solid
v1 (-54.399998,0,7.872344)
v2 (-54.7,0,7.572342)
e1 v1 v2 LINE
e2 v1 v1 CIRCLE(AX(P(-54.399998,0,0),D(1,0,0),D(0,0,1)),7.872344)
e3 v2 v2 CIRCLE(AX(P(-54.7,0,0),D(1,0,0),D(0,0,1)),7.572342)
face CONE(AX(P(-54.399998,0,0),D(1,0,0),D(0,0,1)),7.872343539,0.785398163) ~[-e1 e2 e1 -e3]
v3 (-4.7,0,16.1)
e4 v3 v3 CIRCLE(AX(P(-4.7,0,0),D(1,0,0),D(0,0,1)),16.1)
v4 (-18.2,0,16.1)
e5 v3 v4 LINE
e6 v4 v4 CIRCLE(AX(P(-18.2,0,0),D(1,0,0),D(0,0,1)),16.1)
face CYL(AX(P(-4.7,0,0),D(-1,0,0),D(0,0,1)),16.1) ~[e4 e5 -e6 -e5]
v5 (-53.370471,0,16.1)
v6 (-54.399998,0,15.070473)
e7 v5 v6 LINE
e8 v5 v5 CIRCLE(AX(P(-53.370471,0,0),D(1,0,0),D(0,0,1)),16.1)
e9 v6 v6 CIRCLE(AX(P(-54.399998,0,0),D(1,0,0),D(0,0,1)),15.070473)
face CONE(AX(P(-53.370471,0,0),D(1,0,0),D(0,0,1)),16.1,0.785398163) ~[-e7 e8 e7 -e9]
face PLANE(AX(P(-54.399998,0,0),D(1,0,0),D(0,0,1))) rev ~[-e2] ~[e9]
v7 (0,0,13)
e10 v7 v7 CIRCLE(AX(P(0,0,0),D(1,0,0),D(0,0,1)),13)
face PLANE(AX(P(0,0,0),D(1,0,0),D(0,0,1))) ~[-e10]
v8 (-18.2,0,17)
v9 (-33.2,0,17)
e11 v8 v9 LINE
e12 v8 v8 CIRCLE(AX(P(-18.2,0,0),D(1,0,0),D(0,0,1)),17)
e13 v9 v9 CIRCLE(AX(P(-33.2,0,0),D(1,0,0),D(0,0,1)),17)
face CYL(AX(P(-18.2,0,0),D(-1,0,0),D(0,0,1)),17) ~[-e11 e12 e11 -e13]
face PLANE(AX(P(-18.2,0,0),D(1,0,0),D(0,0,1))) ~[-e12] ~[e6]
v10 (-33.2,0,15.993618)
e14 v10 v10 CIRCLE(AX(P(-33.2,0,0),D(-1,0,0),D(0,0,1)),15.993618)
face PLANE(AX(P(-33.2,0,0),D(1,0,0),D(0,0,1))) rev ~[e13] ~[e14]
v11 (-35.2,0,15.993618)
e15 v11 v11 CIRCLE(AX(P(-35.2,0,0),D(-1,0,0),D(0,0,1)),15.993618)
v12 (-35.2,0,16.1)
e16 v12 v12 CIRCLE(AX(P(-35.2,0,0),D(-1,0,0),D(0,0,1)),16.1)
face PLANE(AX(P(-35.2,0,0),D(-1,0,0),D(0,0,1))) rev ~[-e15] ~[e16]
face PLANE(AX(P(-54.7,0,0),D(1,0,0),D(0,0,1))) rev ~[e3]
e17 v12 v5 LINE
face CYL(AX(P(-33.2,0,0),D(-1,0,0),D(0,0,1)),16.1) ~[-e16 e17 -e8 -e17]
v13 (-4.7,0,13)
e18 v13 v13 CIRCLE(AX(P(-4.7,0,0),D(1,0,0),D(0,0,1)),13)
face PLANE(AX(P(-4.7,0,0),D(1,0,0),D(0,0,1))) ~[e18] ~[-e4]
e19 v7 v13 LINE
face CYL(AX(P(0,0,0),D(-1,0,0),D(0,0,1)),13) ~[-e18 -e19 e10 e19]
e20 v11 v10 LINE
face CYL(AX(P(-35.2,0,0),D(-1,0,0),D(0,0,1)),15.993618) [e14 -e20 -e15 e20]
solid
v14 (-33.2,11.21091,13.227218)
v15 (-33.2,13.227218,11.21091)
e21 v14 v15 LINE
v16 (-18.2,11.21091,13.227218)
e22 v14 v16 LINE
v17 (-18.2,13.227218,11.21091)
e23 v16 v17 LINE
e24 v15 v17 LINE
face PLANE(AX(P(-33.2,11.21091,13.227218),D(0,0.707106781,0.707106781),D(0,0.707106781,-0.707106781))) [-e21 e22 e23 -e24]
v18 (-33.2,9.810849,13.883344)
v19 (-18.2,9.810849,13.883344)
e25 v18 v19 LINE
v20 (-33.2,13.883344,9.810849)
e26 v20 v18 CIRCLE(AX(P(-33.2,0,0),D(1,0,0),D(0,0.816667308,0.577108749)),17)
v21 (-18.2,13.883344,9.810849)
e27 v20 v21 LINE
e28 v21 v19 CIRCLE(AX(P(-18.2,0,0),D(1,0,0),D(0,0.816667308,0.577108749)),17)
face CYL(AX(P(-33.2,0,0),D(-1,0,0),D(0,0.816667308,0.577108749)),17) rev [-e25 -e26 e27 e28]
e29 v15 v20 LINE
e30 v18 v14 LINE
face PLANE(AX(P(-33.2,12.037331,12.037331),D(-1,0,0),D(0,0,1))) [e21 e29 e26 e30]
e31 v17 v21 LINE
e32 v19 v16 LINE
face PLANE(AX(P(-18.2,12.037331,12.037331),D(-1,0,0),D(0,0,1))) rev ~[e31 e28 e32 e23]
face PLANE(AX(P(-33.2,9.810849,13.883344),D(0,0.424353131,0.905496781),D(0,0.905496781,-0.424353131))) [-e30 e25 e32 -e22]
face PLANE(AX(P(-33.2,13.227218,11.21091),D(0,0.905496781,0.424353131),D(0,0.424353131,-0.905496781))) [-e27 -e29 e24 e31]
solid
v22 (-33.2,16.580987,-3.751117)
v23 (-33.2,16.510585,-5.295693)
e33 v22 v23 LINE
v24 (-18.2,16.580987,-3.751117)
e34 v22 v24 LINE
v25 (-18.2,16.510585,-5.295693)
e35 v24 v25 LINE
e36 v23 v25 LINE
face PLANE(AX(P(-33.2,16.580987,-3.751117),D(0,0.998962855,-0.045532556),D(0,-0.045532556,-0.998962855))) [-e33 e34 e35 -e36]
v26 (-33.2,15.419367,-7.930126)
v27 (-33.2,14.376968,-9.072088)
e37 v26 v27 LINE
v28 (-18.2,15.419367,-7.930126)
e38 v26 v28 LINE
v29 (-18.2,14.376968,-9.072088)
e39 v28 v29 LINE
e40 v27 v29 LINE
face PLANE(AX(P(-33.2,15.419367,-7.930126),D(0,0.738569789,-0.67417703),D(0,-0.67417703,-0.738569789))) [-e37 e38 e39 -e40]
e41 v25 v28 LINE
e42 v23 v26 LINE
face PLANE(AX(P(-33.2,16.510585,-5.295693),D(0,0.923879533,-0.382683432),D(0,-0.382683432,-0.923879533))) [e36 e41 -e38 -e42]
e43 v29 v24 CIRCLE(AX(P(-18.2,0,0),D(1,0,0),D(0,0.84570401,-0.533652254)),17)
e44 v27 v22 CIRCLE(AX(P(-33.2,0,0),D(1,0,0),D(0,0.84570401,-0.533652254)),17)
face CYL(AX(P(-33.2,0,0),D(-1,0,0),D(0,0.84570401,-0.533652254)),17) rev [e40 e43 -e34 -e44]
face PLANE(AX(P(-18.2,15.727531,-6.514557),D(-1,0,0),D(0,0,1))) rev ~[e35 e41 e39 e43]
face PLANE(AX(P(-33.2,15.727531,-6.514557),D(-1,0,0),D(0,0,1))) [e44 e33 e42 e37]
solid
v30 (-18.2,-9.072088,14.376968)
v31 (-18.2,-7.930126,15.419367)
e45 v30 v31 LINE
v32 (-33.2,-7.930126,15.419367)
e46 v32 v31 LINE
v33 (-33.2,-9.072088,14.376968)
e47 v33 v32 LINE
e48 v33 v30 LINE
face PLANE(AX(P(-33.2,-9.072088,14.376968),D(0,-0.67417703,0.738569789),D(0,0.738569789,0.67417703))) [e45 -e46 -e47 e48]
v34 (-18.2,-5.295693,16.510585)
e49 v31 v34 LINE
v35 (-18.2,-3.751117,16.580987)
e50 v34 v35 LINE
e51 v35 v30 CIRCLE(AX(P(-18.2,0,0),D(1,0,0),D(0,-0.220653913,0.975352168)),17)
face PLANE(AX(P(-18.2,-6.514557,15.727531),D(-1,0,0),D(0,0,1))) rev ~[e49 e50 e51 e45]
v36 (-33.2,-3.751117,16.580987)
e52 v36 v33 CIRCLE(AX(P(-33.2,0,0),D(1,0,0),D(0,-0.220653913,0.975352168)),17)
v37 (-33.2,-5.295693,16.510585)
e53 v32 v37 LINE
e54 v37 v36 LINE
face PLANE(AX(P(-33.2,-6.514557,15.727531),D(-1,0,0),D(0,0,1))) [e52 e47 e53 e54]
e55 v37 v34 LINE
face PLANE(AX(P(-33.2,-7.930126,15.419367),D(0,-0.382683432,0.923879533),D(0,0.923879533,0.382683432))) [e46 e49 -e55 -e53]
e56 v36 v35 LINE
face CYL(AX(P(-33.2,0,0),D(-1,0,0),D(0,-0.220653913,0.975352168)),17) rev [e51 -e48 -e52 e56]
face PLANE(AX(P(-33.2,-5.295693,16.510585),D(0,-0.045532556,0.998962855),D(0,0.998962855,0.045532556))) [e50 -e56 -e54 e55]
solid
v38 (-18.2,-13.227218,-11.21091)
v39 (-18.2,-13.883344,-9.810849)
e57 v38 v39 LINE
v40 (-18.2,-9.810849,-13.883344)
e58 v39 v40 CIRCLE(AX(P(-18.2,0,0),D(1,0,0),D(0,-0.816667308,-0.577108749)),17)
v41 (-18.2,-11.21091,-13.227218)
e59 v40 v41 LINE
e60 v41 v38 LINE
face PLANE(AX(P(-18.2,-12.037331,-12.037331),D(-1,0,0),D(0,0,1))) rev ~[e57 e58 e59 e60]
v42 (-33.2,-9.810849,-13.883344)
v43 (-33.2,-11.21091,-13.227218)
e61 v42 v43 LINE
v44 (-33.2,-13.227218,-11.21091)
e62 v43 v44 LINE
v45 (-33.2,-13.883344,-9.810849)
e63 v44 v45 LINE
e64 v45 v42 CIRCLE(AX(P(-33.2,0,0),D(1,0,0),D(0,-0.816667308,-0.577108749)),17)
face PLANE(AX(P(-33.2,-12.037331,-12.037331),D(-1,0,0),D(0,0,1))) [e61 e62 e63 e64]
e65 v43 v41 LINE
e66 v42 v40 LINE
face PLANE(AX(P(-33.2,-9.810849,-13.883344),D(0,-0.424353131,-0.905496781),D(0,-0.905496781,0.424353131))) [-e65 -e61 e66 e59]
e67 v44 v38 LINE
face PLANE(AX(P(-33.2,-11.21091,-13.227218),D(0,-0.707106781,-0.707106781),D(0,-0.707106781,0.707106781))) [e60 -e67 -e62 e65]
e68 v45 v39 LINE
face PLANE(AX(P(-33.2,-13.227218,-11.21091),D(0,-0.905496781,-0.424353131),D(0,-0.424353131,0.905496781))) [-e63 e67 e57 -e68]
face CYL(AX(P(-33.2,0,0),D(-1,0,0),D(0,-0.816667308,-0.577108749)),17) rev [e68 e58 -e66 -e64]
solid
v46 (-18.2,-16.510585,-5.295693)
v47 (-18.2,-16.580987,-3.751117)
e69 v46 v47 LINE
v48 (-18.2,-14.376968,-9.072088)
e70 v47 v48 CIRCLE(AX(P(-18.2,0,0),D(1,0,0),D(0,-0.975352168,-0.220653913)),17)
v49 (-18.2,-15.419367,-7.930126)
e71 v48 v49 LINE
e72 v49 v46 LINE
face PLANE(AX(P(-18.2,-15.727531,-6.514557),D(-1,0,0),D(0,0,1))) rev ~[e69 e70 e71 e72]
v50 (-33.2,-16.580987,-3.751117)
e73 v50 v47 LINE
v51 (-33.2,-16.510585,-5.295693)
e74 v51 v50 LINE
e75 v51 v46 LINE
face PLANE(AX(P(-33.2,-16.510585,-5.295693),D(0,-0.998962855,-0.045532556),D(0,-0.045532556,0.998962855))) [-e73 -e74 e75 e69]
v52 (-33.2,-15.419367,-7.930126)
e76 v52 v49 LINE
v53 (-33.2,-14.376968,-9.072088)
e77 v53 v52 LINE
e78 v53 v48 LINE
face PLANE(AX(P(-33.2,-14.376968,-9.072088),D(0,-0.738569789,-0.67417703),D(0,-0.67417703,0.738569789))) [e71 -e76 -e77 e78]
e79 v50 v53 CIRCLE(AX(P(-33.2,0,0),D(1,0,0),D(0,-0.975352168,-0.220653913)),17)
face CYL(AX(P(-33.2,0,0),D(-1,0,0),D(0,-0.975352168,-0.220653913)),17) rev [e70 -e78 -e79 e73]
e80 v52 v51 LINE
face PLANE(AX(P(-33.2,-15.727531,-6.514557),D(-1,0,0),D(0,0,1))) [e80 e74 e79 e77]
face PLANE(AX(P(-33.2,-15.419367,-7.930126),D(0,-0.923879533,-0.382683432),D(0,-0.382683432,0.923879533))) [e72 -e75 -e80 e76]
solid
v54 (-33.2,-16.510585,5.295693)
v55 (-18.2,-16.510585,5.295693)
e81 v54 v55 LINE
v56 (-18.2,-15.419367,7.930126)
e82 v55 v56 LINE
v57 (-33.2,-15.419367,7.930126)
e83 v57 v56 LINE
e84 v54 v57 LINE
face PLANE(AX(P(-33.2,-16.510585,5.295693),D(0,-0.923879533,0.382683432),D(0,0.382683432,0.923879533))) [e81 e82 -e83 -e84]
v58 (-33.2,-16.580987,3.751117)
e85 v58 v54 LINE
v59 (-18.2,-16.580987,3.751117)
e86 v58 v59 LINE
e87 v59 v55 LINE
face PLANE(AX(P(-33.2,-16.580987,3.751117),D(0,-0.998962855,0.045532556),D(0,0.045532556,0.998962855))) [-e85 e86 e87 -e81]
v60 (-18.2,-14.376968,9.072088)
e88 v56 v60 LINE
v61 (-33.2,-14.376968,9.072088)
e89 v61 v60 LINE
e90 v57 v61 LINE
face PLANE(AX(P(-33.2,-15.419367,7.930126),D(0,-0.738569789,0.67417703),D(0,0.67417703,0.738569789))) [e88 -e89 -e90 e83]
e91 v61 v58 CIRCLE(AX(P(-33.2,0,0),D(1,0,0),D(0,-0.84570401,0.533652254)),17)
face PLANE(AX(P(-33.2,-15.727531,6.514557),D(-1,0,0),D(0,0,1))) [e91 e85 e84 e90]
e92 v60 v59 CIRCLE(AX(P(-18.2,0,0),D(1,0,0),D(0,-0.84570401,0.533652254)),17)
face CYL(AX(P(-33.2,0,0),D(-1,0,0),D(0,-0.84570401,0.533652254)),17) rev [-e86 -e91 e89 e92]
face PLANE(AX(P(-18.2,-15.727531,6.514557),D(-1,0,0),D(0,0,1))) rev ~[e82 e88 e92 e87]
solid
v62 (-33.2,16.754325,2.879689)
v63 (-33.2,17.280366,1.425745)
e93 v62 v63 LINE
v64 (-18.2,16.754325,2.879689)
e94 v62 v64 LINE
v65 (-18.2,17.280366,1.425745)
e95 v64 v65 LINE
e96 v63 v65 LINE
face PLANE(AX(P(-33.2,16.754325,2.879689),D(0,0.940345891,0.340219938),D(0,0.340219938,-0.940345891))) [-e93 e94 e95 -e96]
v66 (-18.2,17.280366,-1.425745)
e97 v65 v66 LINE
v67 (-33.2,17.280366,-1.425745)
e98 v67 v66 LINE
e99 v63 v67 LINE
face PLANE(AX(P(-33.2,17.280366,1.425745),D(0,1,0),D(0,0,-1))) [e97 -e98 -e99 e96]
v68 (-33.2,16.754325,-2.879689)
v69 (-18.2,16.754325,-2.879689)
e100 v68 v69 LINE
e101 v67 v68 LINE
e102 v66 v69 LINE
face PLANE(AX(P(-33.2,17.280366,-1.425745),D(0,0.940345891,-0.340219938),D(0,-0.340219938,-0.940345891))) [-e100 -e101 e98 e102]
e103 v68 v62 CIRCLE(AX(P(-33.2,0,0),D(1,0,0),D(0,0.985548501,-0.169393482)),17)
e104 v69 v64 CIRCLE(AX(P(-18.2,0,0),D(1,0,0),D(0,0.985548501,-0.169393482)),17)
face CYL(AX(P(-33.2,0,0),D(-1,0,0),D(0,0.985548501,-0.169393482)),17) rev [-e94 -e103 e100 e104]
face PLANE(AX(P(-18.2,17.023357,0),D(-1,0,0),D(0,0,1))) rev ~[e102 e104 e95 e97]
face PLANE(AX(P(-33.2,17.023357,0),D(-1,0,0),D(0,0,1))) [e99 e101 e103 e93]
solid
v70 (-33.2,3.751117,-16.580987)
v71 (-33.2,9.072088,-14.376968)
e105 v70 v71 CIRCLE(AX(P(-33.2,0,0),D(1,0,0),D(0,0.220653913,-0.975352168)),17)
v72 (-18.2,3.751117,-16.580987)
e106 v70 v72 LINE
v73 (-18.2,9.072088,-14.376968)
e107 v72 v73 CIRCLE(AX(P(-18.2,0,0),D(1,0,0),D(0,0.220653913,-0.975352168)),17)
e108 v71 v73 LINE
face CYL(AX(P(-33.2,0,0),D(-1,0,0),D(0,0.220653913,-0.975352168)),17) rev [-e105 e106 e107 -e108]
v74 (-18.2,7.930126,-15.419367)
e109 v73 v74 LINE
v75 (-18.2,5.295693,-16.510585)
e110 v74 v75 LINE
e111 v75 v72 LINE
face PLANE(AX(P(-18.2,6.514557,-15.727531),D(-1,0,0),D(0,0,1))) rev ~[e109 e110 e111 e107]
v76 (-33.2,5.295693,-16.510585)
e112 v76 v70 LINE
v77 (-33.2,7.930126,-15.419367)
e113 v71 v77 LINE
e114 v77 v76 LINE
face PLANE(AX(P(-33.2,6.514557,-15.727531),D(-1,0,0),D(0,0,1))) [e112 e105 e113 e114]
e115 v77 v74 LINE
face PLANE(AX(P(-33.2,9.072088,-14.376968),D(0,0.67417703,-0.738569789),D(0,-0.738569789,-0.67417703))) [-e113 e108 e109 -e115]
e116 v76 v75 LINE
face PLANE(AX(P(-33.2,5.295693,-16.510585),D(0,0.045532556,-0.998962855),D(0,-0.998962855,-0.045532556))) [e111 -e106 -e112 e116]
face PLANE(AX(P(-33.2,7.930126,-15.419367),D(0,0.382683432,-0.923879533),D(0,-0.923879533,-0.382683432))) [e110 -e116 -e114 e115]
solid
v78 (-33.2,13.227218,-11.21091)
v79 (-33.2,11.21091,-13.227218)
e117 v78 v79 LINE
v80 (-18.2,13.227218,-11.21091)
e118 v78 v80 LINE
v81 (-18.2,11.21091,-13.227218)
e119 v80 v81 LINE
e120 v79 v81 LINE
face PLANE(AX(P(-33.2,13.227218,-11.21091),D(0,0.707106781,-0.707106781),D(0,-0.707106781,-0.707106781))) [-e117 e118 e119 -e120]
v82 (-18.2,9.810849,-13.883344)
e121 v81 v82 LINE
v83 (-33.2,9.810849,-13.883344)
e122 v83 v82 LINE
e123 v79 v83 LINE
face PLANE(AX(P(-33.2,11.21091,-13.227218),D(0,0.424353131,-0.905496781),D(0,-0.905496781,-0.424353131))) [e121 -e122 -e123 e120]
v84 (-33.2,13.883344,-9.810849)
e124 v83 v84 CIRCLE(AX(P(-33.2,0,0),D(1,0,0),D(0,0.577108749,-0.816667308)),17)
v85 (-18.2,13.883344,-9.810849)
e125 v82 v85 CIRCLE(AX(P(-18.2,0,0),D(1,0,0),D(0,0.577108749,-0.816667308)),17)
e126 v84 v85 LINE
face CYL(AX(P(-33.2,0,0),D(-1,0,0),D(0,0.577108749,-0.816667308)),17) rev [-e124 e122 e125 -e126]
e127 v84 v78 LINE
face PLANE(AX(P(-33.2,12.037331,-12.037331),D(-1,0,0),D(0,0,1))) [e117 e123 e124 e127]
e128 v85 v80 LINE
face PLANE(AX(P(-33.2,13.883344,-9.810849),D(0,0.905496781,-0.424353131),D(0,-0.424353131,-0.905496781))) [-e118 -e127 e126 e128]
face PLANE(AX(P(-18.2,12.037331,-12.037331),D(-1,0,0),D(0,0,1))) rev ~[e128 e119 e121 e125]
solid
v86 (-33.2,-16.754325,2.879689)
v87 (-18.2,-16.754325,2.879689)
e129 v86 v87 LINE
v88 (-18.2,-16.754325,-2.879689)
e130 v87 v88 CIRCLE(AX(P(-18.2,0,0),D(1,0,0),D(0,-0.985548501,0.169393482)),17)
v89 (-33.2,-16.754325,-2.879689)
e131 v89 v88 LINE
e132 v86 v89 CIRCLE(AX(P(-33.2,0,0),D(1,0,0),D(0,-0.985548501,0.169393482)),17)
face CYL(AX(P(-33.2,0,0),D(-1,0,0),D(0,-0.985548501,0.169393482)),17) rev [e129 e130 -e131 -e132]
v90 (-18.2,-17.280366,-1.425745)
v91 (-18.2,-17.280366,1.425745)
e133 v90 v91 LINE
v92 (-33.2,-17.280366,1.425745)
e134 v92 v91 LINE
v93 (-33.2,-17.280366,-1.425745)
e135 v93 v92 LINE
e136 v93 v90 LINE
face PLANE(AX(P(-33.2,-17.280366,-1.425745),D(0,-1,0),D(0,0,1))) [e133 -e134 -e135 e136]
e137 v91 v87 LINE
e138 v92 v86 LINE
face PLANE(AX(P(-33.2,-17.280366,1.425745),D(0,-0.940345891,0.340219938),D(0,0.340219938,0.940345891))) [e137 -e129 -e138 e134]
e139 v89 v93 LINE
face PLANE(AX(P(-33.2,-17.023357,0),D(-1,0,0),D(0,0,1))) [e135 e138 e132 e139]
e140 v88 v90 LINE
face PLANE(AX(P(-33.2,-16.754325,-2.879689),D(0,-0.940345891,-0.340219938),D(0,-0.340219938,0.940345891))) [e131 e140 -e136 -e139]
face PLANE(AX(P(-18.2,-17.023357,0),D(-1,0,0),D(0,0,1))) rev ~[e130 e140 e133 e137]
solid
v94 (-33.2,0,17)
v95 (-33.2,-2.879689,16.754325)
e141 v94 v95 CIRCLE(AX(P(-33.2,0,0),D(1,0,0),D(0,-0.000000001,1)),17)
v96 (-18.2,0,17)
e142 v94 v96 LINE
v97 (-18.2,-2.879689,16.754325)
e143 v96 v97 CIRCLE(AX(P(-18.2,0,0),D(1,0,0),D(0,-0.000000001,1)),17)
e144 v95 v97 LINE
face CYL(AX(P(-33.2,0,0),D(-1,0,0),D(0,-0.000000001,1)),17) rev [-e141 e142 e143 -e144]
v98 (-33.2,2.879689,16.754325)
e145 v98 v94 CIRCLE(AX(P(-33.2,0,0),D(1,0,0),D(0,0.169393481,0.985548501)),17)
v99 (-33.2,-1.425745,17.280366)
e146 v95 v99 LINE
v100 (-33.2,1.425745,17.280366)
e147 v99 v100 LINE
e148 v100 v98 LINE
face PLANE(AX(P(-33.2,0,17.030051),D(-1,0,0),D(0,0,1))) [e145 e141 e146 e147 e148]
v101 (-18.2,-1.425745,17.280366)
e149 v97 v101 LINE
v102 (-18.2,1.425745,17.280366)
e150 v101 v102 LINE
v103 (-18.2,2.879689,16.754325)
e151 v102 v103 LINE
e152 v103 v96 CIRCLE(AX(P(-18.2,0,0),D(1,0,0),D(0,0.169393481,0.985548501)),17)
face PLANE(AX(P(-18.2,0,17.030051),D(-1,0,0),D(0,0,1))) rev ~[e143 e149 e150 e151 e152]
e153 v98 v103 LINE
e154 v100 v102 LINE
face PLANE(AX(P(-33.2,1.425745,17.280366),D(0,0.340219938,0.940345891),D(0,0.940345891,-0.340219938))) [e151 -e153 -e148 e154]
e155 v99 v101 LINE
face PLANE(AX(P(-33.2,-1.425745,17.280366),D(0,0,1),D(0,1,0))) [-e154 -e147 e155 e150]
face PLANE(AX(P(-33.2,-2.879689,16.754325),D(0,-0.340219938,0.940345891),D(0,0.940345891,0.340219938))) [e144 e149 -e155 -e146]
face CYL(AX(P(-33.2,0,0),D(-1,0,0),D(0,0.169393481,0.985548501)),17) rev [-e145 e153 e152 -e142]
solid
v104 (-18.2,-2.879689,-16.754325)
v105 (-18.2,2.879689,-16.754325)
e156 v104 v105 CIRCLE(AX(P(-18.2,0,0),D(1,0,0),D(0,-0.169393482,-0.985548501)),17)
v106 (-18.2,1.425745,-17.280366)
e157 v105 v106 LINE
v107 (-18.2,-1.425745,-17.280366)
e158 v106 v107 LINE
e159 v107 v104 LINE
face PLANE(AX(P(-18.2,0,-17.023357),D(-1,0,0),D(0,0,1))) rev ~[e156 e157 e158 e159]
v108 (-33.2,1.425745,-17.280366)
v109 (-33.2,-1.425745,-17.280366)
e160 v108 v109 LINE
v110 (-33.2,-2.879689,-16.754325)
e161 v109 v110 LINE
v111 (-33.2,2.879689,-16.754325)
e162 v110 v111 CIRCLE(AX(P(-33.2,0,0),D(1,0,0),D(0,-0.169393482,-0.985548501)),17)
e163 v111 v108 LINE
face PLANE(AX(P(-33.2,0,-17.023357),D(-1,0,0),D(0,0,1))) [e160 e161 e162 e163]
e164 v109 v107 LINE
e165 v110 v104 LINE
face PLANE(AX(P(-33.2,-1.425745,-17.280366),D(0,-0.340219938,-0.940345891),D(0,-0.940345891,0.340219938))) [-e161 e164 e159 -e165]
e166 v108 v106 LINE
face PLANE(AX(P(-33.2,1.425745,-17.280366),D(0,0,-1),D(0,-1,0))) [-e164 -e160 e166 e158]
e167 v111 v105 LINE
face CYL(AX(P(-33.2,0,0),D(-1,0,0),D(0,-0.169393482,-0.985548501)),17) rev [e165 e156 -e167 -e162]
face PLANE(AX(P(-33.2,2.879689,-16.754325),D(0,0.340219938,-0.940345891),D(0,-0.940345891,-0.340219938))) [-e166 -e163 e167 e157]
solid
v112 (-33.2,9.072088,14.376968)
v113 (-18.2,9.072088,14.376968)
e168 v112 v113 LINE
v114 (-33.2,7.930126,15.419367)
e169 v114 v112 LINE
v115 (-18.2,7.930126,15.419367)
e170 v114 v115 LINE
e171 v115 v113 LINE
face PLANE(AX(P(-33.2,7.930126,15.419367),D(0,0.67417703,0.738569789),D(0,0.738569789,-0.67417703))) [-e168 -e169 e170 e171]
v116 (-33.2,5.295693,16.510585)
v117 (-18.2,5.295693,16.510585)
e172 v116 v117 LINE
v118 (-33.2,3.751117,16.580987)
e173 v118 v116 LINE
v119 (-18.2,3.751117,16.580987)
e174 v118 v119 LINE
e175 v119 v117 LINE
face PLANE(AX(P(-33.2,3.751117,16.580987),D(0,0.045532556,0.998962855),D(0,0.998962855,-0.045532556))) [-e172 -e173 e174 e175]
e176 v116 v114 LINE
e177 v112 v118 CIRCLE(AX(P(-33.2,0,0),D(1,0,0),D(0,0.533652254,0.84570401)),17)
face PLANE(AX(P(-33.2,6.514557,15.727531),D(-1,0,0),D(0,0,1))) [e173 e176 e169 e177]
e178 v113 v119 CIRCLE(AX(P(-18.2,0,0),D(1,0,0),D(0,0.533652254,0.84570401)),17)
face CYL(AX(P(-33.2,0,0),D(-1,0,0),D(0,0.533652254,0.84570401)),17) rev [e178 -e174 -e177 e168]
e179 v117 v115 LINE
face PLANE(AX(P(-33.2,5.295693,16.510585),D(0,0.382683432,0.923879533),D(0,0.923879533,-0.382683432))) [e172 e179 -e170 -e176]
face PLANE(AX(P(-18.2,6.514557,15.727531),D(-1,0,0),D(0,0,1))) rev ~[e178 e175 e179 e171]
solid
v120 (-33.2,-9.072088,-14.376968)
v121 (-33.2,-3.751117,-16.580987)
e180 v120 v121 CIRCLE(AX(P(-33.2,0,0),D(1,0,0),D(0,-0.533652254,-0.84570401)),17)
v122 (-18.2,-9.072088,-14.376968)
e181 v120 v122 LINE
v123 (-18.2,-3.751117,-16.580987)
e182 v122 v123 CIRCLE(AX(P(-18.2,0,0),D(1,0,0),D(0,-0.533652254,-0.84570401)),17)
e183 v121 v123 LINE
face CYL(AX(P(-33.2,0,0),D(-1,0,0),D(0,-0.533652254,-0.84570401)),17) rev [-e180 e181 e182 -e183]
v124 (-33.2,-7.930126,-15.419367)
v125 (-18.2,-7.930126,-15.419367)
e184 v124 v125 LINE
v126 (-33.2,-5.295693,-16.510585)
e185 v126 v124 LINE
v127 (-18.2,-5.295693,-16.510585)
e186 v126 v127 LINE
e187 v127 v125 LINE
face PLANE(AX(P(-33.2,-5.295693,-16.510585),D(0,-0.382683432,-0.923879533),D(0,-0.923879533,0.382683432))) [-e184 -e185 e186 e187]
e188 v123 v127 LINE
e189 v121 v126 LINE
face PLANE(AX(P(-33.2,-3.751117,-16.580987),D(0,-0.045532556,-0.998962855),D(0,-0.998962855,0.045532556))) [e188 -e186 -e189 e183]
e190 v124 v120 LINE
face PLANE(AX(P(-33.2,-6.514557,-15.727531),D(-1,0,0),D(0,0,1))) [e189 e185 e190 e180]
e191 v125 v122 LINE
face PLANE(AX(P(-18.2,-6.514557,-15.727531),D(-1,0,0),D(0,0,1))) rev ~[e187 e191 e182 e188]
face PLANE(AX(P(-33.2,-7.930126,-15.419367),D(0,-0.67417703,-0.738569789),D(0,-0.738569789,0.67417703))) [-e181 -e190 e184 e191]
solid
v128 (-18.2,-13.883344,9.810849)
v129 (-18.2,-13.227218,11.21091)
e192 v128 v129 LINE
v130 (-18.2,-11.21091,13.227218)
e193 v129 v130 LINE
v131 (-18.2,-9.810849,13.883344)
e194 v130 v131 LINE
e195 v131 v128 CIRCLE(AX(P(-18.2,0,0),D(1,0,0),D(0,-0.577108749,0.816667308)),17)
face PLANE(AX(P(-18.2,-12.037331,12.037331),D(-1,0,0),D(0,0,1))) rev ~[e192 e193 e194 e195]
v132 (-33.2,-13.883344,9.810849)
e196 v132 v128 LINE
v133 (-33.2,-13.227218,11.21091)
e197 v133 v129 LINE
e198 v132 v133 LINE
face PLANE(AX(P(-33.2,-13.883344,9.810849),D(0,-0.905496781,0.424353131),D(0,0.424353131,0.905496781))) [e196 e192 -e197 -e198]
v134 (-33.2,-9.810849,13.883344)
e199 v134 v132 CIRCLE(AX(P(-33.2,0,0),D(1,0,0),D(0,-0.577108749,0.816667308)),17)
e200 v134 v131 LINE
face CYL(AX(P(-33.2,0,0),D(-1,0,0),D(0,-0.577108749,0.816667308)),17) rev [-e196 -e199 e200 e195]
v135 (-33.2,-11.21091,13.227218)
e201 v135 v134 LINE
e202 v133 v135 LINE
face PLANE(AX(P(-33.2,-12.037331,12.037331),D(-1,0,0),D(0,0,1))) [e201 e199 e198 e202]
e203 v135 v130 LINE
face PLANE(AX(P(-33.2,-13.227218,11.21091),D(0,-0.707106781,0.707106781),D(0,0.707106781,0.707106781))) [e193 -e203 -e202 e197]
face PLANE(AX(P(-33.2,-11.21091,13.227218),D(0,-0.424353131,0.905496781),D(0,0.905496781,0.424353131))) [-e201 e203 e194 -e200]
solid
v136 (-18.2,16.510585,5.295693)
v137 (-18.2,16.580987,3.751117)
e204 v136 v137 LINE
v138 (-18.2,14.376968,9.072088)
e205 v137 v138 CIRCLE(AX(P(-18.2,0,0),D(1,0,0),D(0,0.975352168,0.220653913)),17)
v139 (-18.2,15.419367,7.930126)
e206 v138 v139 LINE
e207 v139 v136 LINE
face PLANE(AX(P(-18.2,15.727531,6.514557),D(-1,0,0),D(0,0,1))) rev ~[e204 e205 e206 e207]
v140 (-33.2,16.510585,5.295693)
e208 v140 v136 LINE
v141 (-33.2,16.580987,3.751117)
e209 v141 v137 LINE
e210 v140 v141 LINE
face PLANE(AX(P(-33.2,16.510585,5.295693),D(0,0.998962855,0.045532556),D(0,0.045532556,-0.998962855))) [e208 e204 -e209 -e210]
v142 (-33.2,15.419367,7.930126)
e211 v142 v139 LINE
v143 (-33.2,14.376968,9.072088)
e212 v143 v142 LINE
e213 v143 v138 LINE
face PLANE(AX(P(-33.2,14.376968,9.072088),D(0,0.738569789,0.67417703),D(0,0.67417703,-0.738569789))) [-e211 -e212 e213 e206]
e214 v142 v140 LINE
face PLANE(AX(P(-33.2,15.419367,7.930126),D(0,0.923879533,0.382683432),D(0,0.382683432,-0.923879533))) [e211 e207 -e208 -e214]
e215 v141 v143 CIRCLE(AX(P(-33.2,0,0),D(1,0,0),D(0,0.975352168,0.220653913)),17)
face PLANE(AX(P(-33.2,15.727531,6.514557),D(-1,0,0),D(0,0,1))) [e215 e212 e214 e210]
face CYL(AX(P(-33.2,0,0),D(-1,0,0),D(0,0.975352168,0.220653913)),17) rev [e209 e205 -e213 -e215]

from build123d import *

# Parameters (mm, degrees)
BOSS_EXTRUDE1_DEPTH    = 15
BOSS_EXTRUDE1_2_DEPTH  = 15
BOSS_EXTRUDE1_3_DEPTH  = 15
BOSS_EXTRUDE1_4_DEPTH  = 15
BOSS_EXTRUDE1_5_DEPTH  = 15
BOSS_EXTRUDE1_6_DEPTH  = 15
BOSS_EXTRUDE1_7_DEPTH  = 15
BOSS_EXTRUDE1_8_DEPTH  = 15
BOSS_EXTRUDE1_9_DEPTH  = 15
BOSS_EXTRUDE1_10_DEPTH = 15
BOSS_EXTRUDE1_11_DEPTH = 15
BOSS_EXTRUDE1_12_DEPTH = 15
BOSS_EXTRUDE1_13_DEPTH = 15
BOSS_EXTRUDE1_14_DEPTH = 15
BOSS_EXTRUDE1_15_DEPTH = 15
BOSS_EXTRUDE1_16_DEPTH = 15
CUT_EXTRUDE1_START     = 2
SKETCH3_R              = 16.1
SKETCH3_R_2            = 15.993618491
CUT_EXTRUDE1_DEPTH     = 2


with BuildPart() as part:
    # Sketch1 → Revolve1 (revolve)
    with BuildSketch(Plane.XY, mode=Mode.PRIVATE) as revolve1_sk:
        Polygon((0, 0), (0, 13), (-4.7, 13), (-4.7, 16.1), (-18.2, 16.1), (-18.2, 17), (-33.2, 17), (-33.2, 16.1), (-53.370470841, 16.1), (-54.399998096, 15.070472746), (-54.399998096, 7.872343539), (-54.7, 7.572341635), (-54.7, 0), align=None)
    revolve(revolve1_sk.sketch.rotate(Axis((-54.7, 0, 0), (1, 0, 0)), 90), axis=Axis((-54.7, 0, 0), (1, 0, 0)))

    # Sketch3 → Cut-Extrude1 (cut)
    with BuildSketch(Plane.ZY.offset(33.2).offset(CUT_EXTRUDE1_START)):
        Circle(SKETCH3_R)
        Circle(SKETCH3_R_2, mode=Mode.SUBTRACT)
    extrude(amount=-CUT_EXTRUDE1_DEPTH, mode=Mode.SUBTRACT)


with BuildPart() as body_2:
    # Sketch2 → Boss-Extrude1 (new body)
    with BuildSketch(Plane.ZY.offset(33.2)):
        with BuildLine():
            Line((17.280365855, 1.425744986), (16.754324522, 2.879689187))
            ThreePointArc((16.754324522, 2.879689187), (16.938469778, 1.445074933), (17, 0))
            ThreePointArc((17, 0), (16.938469778, -1.445074933), (16.754324522, -2.879689187))
            Line((16.754324522, -2.879689187), (17.280365855, -1.425744986))
            Line((17.280365855, -1.425744986), (17.280365855, 1.425744986))
        make_face()
    extrude(amount=-BOSS_EXTRUDE1_DEPTH)


with BuildPart() as body_3:
    # Sketch2 → Boss-Extrude1 2 (new body)
    with BuildSketch(Plane.ZY.offset(33.2)):
        with BuildLine():
            Line((16.510585312, -5.295693106), (16.580986849, -3.751116515))
            ThreePointArc((16.580986849, -3.751116515), (15.705952053, -6.50561835), (14.376968165, -9.072088315))
            Line((14.376968165, -9.072088315), (15.419367342, -7.930126329))
            Line((15.419367342, -7.930126329), (16.510585312, -5.295693106))
        make_face()
    extrude(amount=-BOSS_EXTRUDE1_2_DEPTH)


with BuildPart() as body_4:
    # Sketch2 → Boss-Extrude1 3 (new body)
    with BuildSketch(Plane.ZY.offset(33.2)):
        with BuildLine():
            Line((13.227217825, -11.210909929), (13.883344235, -9.810848732))
            ThreePointArc((13.883344235, -9.810848732), (12.02081528, -12.02081528), (9.810848732, -13.883344235))
            Line((9.810848732, -13.883344235), (11.210909929, -13.227217825))
            Line((11.210909929, -13.227217825), (13.227217825, -11.210909929))
        make_face()
    extrude(amount=-BOSS_EXTRUDE1_3_DEPTH)


with BuildPart() as body_5:
    # Sketch2 → Boss-Extrude1 4 (new body)
    with BuildSketch(Plane.ZY.offset(33.2)):
        with BuildLine():
            Line((7.930126329, -15.419367342), (9.072088315, -14.376968165))
            ThreePointArc((9.072088315, -14.376968165), (6.50561835, -15.705952053), (3.751116515, -16.580986849))
            Line((3.751116515, -16.580986849), (5.295693106, -16.510585312))
            Line((5.295693106, -16.510585312), (7.930126329, -15.419367342))
        make_face()
    extrude(amount=-BOSS_EXTRUDE1_4_DEPTH)


with BuildPart() as body_6:
    # Sketch2 → Boss-Extrude1 5 (new body)
    with BuildSketch(Plane.ZY.offset(33.2)):
        with BuildLine():
            Line((1.425744986, -17.280365855), (2.879689187, -16.754324522))
            ThreePointArc((2.879689187, -16.754324522), (0, -17), (-2.879689187, -16.754324522))
            Line((-2.879689187, -16.754324522), (-1.425744986, -17.280365855))
            Line((-1.425744986, -17.280365855), (1.425744986, -17.280365855))
        make_face()
    extrude(amount=-BOSS_EXTRUDE1_5_DEPTH)


with BuildPart() as body_7:
    # Sketch2 → Boss-Extrude1 6 (new body)
    with BuildSketch(Plane.ZY.offset(33.2)):
        with BuildLine():
            Line((-5.295693106, -16.510585312), (-3.751116515, -16.580986849))
            ThreePointArc((-3.751116515, -16.580986849), (-6.50561835, -15.705952053), (-9.072088315, -14.376968165))
            Line((-9.072088315, -14.376968165), (-7.930126329, -15.419367342))
            Line((-7.930126329, -15.419367342), (-5.295693106, -16.510585312))
        make_face()
    extrude(amount=-BOSS_EXTRUDE1_6_DEPTH)


with BuildPart() as body_8:
    # Sketch2 → Boss-Extrude1 7 (new body)
    with BuildSketch(Plane.ZY.offset(33.2)):
        with BuildLine():
            Line((-11.210909929, -13.227217825), (-9.810848732, -13.883344235))
            ThreePointArc((-9.810848732, -13.883344235), (-12.02081528, -12.02081528), (-13.883344235, -9.810848732))
            Line((-13.883344235, -9.810848732), (-13.227217825, -11.210909929))
            Line((-13.227217825, -11.210909929), (-11.210909929, -13.227217825))
        make_face()
    extrude(amount=-BOSS_EXTRUDE1_7_DEPTH)


with BuildPart() as body_9:
    # Sketch2 → Boss-Extrude1 8 (new body)
    with BuildSketch(Plane.ZY.offset(33.2)):
        with BuildLine():
            Line((-15.419367342, -7.930126329), (-14.376968165, -9.072088315))
            ThreePointArc((-14.376968165, -9.072088315), (-15.705952053, -6.50561835), (-16.580986849, -3.751116515))
            Line((-16.580986849, -3.751116515), (-16.510585312, -5.295693106))
            Line((-16.510585312, -5.295693106), (-15.419367342, -7.930126329))
        make_face()
    extrude(amount=-BOSS_EXTRUDE1_8_DEPTH)


with BuildPart() as body_10:
    # Sketch2 → Boss-Extrude1 9 (new body)
    with BuildSketch(Plane.ZY.offset(33.2)):
        with BuildLine():
            ThreePointArc((-16.754324522, -2.879689187), (-17, 0), (-16.754324522, 2.879689187))
            Line((-16.754324522, 2.879689187), (-17.280365855, 1.425744986))
            Line((-17.280365855, 1.425744986), (-17.280365855, -1.425744986))
            Line((-17.280365855, -1.425744986), (-16.754324522, -2.879689187))
        make_face()
    extrude(amount=-BOSS_EXTRUDE1_9_DEPTH)


with BuildPart() as body_11:
    # Sketch2 → Boss-Extrude1 10 (new body)
    with BuildSketch(Plane.ZY.offset(33.2)):
        with BuildLine():
            ThreePointArc((-16.580986849, 3.751116515), (-15.705952053, 6.50561835), (-14.376968165, 9.072088315))
            Line((-14.376968165, 9.072088315), (-15.419367342, 7.930126329))
            Line((-15.419367342, 7.930126329), (-16.510585312, 5.295693106))
            Line((-16.510585312, 5.295693106), (-16.580986849, 3.751116515))
        make_face()
    extrude(amount=-BOSS_EXTRUDE1_10_DEPTH)


with BuildPart() as body_12:
    # Sketch2 → Boss-Extrude1 11 (new body)
    with BuildSketch(Plane.ZY.offset(33.2)):
        with BuildLine():
            ThreePointArc((-13.883344235, 9.810848732), (-12.02081528, 12.02081528), (-9.810848732, 13.883344235))
            Line((-9.810848732, 13.883344235), (-11.210909929, 13.227217825))
            Line((-11.210909929, 13.227217825), (-13.227217825, 11.210909929))
            Line((-13.227217825, 11.210909929), (-13.883344235, 9.810848732))
        make_face()
    extrude(amount=-BOSS_EXTRUDE1_11_DEPTH)


with BuildPart() as body_13:
    # Sketch2 → Boss-Extrude1 12 (new body)
    with BuildSketch(Plane.ZY.offset(33.2)):
        with BuildLine():
            ThreePointArc((-9.072088315, 14.376968165), (-6.50561835, 15.705952053), (-3.751116515, 16.580986849))
            Line((-3.751116515, 16.580986849), (-5.295693106, 16.510585312))
            Line((-5.295693106, 16.510585312), (-7.930126329, 15.419367342))
            Line((-7.930126329, 15.419367342), (-9.072088315, 14.376968165))
        make_face()
    extrude(amount=-BOSS_EXTRUDE1_12_DEPTH)


with BuildPart() as body_14:
    # Sketch2 → Boss-Extrude1 13 (new body)
    with BuildSketch(Plane.ZY.offset(33.2)):
        with BuildLine():
            ThreePointArc((-2.879689187, 16.754324522), (0, 17), (2.879689187, 16.754324522))
            Line((2.879689187, 16.754324522), (1.425744986, 17.280365855))
            Line((1.425744986, 17.280365855), (-1.425744986, 17.280365855))
            Line((-1.425744986, 17.280365855), (-2.879689187, 16.754324522))
        make_face()
    extrude(amount=-BOSS_EXTRUDE1_13_DEPTH)


with BuildPart() as body_15:
    # Sketch2 → Boss-Extrude1 14 (new body)
    with BuildSketch(Plane.ZY.offset(33.2)):
        with BuildLine():
            ThreePointArc((3.751116515, 16.580986849), (6.50561835, 15.705952053), (9.072088315, 14.376968165))
            Line((9.072088315, 14.376968165), (7.930126329, 15.419367342))
            Line((7.930126329, 15.419367342), (5.295693106, 16.510585312))
            Line((5.295693106, 16.510585312), (3.751116515, 16.580986849))
        make_face()
    extrude(amount=-BOSS_EXTRUDE1_14_DEPTH)


with BuildPart() as body_16:
    # Sketch2 → Boss-Extrude1 15 (new body)
    with BuildSketch(Plane.ZY.offset(33.2)):
        with BuildLine():
            ThreePointArc((9.810848732, 13.883344235), (12.02081528, 12.02081528), (13.883344235, 9.810848732))
            Line((13.883344235, 9.810848732), (13.227217825, 11.210909929))
            Line((13.227217825, 11.210909929), (11.210909929, 13.227217825))
            Line((11.210909929, 13.227217825), (9.810848732, 13.883344235))
        make_face()
    extrude(amount=-BOSS_EXTRUDE1_15_DEPTH)


with BuildPart() as body_17:
    # Sketch2 → Boss-Extrude1 16 (new body)
    with BuildSketch(Plane.ZY.offset(33.2)):
        with BuildLine():
            ThreePointArc((14.376968165, 9.072088315), (15.705952053, 6.50561835), (16.580986849, 3.751116515))
            Line((16.580986849, 3.751116515), (16.510585312, 5.295693106))
            Line((16.510585312, 5.295693106), (15.419367342, 7.930126329))
            Line((15.419367342, 7.930126329), (14.376968165, 9.072088315))
        make_face()
    extrude(amount=-BOSS_EXTRUDE1_16_DEPTH)


solid = Compound([part.part, body_2.part, body_3.part, body_4.part, body_5.part, body_6.part, body_7.part, body_8.part, body_9.part, body_10.part, body_11.part, body_12.part, body_13.part, body_14.part, body_15.part, body_16.part, body_17.part])
